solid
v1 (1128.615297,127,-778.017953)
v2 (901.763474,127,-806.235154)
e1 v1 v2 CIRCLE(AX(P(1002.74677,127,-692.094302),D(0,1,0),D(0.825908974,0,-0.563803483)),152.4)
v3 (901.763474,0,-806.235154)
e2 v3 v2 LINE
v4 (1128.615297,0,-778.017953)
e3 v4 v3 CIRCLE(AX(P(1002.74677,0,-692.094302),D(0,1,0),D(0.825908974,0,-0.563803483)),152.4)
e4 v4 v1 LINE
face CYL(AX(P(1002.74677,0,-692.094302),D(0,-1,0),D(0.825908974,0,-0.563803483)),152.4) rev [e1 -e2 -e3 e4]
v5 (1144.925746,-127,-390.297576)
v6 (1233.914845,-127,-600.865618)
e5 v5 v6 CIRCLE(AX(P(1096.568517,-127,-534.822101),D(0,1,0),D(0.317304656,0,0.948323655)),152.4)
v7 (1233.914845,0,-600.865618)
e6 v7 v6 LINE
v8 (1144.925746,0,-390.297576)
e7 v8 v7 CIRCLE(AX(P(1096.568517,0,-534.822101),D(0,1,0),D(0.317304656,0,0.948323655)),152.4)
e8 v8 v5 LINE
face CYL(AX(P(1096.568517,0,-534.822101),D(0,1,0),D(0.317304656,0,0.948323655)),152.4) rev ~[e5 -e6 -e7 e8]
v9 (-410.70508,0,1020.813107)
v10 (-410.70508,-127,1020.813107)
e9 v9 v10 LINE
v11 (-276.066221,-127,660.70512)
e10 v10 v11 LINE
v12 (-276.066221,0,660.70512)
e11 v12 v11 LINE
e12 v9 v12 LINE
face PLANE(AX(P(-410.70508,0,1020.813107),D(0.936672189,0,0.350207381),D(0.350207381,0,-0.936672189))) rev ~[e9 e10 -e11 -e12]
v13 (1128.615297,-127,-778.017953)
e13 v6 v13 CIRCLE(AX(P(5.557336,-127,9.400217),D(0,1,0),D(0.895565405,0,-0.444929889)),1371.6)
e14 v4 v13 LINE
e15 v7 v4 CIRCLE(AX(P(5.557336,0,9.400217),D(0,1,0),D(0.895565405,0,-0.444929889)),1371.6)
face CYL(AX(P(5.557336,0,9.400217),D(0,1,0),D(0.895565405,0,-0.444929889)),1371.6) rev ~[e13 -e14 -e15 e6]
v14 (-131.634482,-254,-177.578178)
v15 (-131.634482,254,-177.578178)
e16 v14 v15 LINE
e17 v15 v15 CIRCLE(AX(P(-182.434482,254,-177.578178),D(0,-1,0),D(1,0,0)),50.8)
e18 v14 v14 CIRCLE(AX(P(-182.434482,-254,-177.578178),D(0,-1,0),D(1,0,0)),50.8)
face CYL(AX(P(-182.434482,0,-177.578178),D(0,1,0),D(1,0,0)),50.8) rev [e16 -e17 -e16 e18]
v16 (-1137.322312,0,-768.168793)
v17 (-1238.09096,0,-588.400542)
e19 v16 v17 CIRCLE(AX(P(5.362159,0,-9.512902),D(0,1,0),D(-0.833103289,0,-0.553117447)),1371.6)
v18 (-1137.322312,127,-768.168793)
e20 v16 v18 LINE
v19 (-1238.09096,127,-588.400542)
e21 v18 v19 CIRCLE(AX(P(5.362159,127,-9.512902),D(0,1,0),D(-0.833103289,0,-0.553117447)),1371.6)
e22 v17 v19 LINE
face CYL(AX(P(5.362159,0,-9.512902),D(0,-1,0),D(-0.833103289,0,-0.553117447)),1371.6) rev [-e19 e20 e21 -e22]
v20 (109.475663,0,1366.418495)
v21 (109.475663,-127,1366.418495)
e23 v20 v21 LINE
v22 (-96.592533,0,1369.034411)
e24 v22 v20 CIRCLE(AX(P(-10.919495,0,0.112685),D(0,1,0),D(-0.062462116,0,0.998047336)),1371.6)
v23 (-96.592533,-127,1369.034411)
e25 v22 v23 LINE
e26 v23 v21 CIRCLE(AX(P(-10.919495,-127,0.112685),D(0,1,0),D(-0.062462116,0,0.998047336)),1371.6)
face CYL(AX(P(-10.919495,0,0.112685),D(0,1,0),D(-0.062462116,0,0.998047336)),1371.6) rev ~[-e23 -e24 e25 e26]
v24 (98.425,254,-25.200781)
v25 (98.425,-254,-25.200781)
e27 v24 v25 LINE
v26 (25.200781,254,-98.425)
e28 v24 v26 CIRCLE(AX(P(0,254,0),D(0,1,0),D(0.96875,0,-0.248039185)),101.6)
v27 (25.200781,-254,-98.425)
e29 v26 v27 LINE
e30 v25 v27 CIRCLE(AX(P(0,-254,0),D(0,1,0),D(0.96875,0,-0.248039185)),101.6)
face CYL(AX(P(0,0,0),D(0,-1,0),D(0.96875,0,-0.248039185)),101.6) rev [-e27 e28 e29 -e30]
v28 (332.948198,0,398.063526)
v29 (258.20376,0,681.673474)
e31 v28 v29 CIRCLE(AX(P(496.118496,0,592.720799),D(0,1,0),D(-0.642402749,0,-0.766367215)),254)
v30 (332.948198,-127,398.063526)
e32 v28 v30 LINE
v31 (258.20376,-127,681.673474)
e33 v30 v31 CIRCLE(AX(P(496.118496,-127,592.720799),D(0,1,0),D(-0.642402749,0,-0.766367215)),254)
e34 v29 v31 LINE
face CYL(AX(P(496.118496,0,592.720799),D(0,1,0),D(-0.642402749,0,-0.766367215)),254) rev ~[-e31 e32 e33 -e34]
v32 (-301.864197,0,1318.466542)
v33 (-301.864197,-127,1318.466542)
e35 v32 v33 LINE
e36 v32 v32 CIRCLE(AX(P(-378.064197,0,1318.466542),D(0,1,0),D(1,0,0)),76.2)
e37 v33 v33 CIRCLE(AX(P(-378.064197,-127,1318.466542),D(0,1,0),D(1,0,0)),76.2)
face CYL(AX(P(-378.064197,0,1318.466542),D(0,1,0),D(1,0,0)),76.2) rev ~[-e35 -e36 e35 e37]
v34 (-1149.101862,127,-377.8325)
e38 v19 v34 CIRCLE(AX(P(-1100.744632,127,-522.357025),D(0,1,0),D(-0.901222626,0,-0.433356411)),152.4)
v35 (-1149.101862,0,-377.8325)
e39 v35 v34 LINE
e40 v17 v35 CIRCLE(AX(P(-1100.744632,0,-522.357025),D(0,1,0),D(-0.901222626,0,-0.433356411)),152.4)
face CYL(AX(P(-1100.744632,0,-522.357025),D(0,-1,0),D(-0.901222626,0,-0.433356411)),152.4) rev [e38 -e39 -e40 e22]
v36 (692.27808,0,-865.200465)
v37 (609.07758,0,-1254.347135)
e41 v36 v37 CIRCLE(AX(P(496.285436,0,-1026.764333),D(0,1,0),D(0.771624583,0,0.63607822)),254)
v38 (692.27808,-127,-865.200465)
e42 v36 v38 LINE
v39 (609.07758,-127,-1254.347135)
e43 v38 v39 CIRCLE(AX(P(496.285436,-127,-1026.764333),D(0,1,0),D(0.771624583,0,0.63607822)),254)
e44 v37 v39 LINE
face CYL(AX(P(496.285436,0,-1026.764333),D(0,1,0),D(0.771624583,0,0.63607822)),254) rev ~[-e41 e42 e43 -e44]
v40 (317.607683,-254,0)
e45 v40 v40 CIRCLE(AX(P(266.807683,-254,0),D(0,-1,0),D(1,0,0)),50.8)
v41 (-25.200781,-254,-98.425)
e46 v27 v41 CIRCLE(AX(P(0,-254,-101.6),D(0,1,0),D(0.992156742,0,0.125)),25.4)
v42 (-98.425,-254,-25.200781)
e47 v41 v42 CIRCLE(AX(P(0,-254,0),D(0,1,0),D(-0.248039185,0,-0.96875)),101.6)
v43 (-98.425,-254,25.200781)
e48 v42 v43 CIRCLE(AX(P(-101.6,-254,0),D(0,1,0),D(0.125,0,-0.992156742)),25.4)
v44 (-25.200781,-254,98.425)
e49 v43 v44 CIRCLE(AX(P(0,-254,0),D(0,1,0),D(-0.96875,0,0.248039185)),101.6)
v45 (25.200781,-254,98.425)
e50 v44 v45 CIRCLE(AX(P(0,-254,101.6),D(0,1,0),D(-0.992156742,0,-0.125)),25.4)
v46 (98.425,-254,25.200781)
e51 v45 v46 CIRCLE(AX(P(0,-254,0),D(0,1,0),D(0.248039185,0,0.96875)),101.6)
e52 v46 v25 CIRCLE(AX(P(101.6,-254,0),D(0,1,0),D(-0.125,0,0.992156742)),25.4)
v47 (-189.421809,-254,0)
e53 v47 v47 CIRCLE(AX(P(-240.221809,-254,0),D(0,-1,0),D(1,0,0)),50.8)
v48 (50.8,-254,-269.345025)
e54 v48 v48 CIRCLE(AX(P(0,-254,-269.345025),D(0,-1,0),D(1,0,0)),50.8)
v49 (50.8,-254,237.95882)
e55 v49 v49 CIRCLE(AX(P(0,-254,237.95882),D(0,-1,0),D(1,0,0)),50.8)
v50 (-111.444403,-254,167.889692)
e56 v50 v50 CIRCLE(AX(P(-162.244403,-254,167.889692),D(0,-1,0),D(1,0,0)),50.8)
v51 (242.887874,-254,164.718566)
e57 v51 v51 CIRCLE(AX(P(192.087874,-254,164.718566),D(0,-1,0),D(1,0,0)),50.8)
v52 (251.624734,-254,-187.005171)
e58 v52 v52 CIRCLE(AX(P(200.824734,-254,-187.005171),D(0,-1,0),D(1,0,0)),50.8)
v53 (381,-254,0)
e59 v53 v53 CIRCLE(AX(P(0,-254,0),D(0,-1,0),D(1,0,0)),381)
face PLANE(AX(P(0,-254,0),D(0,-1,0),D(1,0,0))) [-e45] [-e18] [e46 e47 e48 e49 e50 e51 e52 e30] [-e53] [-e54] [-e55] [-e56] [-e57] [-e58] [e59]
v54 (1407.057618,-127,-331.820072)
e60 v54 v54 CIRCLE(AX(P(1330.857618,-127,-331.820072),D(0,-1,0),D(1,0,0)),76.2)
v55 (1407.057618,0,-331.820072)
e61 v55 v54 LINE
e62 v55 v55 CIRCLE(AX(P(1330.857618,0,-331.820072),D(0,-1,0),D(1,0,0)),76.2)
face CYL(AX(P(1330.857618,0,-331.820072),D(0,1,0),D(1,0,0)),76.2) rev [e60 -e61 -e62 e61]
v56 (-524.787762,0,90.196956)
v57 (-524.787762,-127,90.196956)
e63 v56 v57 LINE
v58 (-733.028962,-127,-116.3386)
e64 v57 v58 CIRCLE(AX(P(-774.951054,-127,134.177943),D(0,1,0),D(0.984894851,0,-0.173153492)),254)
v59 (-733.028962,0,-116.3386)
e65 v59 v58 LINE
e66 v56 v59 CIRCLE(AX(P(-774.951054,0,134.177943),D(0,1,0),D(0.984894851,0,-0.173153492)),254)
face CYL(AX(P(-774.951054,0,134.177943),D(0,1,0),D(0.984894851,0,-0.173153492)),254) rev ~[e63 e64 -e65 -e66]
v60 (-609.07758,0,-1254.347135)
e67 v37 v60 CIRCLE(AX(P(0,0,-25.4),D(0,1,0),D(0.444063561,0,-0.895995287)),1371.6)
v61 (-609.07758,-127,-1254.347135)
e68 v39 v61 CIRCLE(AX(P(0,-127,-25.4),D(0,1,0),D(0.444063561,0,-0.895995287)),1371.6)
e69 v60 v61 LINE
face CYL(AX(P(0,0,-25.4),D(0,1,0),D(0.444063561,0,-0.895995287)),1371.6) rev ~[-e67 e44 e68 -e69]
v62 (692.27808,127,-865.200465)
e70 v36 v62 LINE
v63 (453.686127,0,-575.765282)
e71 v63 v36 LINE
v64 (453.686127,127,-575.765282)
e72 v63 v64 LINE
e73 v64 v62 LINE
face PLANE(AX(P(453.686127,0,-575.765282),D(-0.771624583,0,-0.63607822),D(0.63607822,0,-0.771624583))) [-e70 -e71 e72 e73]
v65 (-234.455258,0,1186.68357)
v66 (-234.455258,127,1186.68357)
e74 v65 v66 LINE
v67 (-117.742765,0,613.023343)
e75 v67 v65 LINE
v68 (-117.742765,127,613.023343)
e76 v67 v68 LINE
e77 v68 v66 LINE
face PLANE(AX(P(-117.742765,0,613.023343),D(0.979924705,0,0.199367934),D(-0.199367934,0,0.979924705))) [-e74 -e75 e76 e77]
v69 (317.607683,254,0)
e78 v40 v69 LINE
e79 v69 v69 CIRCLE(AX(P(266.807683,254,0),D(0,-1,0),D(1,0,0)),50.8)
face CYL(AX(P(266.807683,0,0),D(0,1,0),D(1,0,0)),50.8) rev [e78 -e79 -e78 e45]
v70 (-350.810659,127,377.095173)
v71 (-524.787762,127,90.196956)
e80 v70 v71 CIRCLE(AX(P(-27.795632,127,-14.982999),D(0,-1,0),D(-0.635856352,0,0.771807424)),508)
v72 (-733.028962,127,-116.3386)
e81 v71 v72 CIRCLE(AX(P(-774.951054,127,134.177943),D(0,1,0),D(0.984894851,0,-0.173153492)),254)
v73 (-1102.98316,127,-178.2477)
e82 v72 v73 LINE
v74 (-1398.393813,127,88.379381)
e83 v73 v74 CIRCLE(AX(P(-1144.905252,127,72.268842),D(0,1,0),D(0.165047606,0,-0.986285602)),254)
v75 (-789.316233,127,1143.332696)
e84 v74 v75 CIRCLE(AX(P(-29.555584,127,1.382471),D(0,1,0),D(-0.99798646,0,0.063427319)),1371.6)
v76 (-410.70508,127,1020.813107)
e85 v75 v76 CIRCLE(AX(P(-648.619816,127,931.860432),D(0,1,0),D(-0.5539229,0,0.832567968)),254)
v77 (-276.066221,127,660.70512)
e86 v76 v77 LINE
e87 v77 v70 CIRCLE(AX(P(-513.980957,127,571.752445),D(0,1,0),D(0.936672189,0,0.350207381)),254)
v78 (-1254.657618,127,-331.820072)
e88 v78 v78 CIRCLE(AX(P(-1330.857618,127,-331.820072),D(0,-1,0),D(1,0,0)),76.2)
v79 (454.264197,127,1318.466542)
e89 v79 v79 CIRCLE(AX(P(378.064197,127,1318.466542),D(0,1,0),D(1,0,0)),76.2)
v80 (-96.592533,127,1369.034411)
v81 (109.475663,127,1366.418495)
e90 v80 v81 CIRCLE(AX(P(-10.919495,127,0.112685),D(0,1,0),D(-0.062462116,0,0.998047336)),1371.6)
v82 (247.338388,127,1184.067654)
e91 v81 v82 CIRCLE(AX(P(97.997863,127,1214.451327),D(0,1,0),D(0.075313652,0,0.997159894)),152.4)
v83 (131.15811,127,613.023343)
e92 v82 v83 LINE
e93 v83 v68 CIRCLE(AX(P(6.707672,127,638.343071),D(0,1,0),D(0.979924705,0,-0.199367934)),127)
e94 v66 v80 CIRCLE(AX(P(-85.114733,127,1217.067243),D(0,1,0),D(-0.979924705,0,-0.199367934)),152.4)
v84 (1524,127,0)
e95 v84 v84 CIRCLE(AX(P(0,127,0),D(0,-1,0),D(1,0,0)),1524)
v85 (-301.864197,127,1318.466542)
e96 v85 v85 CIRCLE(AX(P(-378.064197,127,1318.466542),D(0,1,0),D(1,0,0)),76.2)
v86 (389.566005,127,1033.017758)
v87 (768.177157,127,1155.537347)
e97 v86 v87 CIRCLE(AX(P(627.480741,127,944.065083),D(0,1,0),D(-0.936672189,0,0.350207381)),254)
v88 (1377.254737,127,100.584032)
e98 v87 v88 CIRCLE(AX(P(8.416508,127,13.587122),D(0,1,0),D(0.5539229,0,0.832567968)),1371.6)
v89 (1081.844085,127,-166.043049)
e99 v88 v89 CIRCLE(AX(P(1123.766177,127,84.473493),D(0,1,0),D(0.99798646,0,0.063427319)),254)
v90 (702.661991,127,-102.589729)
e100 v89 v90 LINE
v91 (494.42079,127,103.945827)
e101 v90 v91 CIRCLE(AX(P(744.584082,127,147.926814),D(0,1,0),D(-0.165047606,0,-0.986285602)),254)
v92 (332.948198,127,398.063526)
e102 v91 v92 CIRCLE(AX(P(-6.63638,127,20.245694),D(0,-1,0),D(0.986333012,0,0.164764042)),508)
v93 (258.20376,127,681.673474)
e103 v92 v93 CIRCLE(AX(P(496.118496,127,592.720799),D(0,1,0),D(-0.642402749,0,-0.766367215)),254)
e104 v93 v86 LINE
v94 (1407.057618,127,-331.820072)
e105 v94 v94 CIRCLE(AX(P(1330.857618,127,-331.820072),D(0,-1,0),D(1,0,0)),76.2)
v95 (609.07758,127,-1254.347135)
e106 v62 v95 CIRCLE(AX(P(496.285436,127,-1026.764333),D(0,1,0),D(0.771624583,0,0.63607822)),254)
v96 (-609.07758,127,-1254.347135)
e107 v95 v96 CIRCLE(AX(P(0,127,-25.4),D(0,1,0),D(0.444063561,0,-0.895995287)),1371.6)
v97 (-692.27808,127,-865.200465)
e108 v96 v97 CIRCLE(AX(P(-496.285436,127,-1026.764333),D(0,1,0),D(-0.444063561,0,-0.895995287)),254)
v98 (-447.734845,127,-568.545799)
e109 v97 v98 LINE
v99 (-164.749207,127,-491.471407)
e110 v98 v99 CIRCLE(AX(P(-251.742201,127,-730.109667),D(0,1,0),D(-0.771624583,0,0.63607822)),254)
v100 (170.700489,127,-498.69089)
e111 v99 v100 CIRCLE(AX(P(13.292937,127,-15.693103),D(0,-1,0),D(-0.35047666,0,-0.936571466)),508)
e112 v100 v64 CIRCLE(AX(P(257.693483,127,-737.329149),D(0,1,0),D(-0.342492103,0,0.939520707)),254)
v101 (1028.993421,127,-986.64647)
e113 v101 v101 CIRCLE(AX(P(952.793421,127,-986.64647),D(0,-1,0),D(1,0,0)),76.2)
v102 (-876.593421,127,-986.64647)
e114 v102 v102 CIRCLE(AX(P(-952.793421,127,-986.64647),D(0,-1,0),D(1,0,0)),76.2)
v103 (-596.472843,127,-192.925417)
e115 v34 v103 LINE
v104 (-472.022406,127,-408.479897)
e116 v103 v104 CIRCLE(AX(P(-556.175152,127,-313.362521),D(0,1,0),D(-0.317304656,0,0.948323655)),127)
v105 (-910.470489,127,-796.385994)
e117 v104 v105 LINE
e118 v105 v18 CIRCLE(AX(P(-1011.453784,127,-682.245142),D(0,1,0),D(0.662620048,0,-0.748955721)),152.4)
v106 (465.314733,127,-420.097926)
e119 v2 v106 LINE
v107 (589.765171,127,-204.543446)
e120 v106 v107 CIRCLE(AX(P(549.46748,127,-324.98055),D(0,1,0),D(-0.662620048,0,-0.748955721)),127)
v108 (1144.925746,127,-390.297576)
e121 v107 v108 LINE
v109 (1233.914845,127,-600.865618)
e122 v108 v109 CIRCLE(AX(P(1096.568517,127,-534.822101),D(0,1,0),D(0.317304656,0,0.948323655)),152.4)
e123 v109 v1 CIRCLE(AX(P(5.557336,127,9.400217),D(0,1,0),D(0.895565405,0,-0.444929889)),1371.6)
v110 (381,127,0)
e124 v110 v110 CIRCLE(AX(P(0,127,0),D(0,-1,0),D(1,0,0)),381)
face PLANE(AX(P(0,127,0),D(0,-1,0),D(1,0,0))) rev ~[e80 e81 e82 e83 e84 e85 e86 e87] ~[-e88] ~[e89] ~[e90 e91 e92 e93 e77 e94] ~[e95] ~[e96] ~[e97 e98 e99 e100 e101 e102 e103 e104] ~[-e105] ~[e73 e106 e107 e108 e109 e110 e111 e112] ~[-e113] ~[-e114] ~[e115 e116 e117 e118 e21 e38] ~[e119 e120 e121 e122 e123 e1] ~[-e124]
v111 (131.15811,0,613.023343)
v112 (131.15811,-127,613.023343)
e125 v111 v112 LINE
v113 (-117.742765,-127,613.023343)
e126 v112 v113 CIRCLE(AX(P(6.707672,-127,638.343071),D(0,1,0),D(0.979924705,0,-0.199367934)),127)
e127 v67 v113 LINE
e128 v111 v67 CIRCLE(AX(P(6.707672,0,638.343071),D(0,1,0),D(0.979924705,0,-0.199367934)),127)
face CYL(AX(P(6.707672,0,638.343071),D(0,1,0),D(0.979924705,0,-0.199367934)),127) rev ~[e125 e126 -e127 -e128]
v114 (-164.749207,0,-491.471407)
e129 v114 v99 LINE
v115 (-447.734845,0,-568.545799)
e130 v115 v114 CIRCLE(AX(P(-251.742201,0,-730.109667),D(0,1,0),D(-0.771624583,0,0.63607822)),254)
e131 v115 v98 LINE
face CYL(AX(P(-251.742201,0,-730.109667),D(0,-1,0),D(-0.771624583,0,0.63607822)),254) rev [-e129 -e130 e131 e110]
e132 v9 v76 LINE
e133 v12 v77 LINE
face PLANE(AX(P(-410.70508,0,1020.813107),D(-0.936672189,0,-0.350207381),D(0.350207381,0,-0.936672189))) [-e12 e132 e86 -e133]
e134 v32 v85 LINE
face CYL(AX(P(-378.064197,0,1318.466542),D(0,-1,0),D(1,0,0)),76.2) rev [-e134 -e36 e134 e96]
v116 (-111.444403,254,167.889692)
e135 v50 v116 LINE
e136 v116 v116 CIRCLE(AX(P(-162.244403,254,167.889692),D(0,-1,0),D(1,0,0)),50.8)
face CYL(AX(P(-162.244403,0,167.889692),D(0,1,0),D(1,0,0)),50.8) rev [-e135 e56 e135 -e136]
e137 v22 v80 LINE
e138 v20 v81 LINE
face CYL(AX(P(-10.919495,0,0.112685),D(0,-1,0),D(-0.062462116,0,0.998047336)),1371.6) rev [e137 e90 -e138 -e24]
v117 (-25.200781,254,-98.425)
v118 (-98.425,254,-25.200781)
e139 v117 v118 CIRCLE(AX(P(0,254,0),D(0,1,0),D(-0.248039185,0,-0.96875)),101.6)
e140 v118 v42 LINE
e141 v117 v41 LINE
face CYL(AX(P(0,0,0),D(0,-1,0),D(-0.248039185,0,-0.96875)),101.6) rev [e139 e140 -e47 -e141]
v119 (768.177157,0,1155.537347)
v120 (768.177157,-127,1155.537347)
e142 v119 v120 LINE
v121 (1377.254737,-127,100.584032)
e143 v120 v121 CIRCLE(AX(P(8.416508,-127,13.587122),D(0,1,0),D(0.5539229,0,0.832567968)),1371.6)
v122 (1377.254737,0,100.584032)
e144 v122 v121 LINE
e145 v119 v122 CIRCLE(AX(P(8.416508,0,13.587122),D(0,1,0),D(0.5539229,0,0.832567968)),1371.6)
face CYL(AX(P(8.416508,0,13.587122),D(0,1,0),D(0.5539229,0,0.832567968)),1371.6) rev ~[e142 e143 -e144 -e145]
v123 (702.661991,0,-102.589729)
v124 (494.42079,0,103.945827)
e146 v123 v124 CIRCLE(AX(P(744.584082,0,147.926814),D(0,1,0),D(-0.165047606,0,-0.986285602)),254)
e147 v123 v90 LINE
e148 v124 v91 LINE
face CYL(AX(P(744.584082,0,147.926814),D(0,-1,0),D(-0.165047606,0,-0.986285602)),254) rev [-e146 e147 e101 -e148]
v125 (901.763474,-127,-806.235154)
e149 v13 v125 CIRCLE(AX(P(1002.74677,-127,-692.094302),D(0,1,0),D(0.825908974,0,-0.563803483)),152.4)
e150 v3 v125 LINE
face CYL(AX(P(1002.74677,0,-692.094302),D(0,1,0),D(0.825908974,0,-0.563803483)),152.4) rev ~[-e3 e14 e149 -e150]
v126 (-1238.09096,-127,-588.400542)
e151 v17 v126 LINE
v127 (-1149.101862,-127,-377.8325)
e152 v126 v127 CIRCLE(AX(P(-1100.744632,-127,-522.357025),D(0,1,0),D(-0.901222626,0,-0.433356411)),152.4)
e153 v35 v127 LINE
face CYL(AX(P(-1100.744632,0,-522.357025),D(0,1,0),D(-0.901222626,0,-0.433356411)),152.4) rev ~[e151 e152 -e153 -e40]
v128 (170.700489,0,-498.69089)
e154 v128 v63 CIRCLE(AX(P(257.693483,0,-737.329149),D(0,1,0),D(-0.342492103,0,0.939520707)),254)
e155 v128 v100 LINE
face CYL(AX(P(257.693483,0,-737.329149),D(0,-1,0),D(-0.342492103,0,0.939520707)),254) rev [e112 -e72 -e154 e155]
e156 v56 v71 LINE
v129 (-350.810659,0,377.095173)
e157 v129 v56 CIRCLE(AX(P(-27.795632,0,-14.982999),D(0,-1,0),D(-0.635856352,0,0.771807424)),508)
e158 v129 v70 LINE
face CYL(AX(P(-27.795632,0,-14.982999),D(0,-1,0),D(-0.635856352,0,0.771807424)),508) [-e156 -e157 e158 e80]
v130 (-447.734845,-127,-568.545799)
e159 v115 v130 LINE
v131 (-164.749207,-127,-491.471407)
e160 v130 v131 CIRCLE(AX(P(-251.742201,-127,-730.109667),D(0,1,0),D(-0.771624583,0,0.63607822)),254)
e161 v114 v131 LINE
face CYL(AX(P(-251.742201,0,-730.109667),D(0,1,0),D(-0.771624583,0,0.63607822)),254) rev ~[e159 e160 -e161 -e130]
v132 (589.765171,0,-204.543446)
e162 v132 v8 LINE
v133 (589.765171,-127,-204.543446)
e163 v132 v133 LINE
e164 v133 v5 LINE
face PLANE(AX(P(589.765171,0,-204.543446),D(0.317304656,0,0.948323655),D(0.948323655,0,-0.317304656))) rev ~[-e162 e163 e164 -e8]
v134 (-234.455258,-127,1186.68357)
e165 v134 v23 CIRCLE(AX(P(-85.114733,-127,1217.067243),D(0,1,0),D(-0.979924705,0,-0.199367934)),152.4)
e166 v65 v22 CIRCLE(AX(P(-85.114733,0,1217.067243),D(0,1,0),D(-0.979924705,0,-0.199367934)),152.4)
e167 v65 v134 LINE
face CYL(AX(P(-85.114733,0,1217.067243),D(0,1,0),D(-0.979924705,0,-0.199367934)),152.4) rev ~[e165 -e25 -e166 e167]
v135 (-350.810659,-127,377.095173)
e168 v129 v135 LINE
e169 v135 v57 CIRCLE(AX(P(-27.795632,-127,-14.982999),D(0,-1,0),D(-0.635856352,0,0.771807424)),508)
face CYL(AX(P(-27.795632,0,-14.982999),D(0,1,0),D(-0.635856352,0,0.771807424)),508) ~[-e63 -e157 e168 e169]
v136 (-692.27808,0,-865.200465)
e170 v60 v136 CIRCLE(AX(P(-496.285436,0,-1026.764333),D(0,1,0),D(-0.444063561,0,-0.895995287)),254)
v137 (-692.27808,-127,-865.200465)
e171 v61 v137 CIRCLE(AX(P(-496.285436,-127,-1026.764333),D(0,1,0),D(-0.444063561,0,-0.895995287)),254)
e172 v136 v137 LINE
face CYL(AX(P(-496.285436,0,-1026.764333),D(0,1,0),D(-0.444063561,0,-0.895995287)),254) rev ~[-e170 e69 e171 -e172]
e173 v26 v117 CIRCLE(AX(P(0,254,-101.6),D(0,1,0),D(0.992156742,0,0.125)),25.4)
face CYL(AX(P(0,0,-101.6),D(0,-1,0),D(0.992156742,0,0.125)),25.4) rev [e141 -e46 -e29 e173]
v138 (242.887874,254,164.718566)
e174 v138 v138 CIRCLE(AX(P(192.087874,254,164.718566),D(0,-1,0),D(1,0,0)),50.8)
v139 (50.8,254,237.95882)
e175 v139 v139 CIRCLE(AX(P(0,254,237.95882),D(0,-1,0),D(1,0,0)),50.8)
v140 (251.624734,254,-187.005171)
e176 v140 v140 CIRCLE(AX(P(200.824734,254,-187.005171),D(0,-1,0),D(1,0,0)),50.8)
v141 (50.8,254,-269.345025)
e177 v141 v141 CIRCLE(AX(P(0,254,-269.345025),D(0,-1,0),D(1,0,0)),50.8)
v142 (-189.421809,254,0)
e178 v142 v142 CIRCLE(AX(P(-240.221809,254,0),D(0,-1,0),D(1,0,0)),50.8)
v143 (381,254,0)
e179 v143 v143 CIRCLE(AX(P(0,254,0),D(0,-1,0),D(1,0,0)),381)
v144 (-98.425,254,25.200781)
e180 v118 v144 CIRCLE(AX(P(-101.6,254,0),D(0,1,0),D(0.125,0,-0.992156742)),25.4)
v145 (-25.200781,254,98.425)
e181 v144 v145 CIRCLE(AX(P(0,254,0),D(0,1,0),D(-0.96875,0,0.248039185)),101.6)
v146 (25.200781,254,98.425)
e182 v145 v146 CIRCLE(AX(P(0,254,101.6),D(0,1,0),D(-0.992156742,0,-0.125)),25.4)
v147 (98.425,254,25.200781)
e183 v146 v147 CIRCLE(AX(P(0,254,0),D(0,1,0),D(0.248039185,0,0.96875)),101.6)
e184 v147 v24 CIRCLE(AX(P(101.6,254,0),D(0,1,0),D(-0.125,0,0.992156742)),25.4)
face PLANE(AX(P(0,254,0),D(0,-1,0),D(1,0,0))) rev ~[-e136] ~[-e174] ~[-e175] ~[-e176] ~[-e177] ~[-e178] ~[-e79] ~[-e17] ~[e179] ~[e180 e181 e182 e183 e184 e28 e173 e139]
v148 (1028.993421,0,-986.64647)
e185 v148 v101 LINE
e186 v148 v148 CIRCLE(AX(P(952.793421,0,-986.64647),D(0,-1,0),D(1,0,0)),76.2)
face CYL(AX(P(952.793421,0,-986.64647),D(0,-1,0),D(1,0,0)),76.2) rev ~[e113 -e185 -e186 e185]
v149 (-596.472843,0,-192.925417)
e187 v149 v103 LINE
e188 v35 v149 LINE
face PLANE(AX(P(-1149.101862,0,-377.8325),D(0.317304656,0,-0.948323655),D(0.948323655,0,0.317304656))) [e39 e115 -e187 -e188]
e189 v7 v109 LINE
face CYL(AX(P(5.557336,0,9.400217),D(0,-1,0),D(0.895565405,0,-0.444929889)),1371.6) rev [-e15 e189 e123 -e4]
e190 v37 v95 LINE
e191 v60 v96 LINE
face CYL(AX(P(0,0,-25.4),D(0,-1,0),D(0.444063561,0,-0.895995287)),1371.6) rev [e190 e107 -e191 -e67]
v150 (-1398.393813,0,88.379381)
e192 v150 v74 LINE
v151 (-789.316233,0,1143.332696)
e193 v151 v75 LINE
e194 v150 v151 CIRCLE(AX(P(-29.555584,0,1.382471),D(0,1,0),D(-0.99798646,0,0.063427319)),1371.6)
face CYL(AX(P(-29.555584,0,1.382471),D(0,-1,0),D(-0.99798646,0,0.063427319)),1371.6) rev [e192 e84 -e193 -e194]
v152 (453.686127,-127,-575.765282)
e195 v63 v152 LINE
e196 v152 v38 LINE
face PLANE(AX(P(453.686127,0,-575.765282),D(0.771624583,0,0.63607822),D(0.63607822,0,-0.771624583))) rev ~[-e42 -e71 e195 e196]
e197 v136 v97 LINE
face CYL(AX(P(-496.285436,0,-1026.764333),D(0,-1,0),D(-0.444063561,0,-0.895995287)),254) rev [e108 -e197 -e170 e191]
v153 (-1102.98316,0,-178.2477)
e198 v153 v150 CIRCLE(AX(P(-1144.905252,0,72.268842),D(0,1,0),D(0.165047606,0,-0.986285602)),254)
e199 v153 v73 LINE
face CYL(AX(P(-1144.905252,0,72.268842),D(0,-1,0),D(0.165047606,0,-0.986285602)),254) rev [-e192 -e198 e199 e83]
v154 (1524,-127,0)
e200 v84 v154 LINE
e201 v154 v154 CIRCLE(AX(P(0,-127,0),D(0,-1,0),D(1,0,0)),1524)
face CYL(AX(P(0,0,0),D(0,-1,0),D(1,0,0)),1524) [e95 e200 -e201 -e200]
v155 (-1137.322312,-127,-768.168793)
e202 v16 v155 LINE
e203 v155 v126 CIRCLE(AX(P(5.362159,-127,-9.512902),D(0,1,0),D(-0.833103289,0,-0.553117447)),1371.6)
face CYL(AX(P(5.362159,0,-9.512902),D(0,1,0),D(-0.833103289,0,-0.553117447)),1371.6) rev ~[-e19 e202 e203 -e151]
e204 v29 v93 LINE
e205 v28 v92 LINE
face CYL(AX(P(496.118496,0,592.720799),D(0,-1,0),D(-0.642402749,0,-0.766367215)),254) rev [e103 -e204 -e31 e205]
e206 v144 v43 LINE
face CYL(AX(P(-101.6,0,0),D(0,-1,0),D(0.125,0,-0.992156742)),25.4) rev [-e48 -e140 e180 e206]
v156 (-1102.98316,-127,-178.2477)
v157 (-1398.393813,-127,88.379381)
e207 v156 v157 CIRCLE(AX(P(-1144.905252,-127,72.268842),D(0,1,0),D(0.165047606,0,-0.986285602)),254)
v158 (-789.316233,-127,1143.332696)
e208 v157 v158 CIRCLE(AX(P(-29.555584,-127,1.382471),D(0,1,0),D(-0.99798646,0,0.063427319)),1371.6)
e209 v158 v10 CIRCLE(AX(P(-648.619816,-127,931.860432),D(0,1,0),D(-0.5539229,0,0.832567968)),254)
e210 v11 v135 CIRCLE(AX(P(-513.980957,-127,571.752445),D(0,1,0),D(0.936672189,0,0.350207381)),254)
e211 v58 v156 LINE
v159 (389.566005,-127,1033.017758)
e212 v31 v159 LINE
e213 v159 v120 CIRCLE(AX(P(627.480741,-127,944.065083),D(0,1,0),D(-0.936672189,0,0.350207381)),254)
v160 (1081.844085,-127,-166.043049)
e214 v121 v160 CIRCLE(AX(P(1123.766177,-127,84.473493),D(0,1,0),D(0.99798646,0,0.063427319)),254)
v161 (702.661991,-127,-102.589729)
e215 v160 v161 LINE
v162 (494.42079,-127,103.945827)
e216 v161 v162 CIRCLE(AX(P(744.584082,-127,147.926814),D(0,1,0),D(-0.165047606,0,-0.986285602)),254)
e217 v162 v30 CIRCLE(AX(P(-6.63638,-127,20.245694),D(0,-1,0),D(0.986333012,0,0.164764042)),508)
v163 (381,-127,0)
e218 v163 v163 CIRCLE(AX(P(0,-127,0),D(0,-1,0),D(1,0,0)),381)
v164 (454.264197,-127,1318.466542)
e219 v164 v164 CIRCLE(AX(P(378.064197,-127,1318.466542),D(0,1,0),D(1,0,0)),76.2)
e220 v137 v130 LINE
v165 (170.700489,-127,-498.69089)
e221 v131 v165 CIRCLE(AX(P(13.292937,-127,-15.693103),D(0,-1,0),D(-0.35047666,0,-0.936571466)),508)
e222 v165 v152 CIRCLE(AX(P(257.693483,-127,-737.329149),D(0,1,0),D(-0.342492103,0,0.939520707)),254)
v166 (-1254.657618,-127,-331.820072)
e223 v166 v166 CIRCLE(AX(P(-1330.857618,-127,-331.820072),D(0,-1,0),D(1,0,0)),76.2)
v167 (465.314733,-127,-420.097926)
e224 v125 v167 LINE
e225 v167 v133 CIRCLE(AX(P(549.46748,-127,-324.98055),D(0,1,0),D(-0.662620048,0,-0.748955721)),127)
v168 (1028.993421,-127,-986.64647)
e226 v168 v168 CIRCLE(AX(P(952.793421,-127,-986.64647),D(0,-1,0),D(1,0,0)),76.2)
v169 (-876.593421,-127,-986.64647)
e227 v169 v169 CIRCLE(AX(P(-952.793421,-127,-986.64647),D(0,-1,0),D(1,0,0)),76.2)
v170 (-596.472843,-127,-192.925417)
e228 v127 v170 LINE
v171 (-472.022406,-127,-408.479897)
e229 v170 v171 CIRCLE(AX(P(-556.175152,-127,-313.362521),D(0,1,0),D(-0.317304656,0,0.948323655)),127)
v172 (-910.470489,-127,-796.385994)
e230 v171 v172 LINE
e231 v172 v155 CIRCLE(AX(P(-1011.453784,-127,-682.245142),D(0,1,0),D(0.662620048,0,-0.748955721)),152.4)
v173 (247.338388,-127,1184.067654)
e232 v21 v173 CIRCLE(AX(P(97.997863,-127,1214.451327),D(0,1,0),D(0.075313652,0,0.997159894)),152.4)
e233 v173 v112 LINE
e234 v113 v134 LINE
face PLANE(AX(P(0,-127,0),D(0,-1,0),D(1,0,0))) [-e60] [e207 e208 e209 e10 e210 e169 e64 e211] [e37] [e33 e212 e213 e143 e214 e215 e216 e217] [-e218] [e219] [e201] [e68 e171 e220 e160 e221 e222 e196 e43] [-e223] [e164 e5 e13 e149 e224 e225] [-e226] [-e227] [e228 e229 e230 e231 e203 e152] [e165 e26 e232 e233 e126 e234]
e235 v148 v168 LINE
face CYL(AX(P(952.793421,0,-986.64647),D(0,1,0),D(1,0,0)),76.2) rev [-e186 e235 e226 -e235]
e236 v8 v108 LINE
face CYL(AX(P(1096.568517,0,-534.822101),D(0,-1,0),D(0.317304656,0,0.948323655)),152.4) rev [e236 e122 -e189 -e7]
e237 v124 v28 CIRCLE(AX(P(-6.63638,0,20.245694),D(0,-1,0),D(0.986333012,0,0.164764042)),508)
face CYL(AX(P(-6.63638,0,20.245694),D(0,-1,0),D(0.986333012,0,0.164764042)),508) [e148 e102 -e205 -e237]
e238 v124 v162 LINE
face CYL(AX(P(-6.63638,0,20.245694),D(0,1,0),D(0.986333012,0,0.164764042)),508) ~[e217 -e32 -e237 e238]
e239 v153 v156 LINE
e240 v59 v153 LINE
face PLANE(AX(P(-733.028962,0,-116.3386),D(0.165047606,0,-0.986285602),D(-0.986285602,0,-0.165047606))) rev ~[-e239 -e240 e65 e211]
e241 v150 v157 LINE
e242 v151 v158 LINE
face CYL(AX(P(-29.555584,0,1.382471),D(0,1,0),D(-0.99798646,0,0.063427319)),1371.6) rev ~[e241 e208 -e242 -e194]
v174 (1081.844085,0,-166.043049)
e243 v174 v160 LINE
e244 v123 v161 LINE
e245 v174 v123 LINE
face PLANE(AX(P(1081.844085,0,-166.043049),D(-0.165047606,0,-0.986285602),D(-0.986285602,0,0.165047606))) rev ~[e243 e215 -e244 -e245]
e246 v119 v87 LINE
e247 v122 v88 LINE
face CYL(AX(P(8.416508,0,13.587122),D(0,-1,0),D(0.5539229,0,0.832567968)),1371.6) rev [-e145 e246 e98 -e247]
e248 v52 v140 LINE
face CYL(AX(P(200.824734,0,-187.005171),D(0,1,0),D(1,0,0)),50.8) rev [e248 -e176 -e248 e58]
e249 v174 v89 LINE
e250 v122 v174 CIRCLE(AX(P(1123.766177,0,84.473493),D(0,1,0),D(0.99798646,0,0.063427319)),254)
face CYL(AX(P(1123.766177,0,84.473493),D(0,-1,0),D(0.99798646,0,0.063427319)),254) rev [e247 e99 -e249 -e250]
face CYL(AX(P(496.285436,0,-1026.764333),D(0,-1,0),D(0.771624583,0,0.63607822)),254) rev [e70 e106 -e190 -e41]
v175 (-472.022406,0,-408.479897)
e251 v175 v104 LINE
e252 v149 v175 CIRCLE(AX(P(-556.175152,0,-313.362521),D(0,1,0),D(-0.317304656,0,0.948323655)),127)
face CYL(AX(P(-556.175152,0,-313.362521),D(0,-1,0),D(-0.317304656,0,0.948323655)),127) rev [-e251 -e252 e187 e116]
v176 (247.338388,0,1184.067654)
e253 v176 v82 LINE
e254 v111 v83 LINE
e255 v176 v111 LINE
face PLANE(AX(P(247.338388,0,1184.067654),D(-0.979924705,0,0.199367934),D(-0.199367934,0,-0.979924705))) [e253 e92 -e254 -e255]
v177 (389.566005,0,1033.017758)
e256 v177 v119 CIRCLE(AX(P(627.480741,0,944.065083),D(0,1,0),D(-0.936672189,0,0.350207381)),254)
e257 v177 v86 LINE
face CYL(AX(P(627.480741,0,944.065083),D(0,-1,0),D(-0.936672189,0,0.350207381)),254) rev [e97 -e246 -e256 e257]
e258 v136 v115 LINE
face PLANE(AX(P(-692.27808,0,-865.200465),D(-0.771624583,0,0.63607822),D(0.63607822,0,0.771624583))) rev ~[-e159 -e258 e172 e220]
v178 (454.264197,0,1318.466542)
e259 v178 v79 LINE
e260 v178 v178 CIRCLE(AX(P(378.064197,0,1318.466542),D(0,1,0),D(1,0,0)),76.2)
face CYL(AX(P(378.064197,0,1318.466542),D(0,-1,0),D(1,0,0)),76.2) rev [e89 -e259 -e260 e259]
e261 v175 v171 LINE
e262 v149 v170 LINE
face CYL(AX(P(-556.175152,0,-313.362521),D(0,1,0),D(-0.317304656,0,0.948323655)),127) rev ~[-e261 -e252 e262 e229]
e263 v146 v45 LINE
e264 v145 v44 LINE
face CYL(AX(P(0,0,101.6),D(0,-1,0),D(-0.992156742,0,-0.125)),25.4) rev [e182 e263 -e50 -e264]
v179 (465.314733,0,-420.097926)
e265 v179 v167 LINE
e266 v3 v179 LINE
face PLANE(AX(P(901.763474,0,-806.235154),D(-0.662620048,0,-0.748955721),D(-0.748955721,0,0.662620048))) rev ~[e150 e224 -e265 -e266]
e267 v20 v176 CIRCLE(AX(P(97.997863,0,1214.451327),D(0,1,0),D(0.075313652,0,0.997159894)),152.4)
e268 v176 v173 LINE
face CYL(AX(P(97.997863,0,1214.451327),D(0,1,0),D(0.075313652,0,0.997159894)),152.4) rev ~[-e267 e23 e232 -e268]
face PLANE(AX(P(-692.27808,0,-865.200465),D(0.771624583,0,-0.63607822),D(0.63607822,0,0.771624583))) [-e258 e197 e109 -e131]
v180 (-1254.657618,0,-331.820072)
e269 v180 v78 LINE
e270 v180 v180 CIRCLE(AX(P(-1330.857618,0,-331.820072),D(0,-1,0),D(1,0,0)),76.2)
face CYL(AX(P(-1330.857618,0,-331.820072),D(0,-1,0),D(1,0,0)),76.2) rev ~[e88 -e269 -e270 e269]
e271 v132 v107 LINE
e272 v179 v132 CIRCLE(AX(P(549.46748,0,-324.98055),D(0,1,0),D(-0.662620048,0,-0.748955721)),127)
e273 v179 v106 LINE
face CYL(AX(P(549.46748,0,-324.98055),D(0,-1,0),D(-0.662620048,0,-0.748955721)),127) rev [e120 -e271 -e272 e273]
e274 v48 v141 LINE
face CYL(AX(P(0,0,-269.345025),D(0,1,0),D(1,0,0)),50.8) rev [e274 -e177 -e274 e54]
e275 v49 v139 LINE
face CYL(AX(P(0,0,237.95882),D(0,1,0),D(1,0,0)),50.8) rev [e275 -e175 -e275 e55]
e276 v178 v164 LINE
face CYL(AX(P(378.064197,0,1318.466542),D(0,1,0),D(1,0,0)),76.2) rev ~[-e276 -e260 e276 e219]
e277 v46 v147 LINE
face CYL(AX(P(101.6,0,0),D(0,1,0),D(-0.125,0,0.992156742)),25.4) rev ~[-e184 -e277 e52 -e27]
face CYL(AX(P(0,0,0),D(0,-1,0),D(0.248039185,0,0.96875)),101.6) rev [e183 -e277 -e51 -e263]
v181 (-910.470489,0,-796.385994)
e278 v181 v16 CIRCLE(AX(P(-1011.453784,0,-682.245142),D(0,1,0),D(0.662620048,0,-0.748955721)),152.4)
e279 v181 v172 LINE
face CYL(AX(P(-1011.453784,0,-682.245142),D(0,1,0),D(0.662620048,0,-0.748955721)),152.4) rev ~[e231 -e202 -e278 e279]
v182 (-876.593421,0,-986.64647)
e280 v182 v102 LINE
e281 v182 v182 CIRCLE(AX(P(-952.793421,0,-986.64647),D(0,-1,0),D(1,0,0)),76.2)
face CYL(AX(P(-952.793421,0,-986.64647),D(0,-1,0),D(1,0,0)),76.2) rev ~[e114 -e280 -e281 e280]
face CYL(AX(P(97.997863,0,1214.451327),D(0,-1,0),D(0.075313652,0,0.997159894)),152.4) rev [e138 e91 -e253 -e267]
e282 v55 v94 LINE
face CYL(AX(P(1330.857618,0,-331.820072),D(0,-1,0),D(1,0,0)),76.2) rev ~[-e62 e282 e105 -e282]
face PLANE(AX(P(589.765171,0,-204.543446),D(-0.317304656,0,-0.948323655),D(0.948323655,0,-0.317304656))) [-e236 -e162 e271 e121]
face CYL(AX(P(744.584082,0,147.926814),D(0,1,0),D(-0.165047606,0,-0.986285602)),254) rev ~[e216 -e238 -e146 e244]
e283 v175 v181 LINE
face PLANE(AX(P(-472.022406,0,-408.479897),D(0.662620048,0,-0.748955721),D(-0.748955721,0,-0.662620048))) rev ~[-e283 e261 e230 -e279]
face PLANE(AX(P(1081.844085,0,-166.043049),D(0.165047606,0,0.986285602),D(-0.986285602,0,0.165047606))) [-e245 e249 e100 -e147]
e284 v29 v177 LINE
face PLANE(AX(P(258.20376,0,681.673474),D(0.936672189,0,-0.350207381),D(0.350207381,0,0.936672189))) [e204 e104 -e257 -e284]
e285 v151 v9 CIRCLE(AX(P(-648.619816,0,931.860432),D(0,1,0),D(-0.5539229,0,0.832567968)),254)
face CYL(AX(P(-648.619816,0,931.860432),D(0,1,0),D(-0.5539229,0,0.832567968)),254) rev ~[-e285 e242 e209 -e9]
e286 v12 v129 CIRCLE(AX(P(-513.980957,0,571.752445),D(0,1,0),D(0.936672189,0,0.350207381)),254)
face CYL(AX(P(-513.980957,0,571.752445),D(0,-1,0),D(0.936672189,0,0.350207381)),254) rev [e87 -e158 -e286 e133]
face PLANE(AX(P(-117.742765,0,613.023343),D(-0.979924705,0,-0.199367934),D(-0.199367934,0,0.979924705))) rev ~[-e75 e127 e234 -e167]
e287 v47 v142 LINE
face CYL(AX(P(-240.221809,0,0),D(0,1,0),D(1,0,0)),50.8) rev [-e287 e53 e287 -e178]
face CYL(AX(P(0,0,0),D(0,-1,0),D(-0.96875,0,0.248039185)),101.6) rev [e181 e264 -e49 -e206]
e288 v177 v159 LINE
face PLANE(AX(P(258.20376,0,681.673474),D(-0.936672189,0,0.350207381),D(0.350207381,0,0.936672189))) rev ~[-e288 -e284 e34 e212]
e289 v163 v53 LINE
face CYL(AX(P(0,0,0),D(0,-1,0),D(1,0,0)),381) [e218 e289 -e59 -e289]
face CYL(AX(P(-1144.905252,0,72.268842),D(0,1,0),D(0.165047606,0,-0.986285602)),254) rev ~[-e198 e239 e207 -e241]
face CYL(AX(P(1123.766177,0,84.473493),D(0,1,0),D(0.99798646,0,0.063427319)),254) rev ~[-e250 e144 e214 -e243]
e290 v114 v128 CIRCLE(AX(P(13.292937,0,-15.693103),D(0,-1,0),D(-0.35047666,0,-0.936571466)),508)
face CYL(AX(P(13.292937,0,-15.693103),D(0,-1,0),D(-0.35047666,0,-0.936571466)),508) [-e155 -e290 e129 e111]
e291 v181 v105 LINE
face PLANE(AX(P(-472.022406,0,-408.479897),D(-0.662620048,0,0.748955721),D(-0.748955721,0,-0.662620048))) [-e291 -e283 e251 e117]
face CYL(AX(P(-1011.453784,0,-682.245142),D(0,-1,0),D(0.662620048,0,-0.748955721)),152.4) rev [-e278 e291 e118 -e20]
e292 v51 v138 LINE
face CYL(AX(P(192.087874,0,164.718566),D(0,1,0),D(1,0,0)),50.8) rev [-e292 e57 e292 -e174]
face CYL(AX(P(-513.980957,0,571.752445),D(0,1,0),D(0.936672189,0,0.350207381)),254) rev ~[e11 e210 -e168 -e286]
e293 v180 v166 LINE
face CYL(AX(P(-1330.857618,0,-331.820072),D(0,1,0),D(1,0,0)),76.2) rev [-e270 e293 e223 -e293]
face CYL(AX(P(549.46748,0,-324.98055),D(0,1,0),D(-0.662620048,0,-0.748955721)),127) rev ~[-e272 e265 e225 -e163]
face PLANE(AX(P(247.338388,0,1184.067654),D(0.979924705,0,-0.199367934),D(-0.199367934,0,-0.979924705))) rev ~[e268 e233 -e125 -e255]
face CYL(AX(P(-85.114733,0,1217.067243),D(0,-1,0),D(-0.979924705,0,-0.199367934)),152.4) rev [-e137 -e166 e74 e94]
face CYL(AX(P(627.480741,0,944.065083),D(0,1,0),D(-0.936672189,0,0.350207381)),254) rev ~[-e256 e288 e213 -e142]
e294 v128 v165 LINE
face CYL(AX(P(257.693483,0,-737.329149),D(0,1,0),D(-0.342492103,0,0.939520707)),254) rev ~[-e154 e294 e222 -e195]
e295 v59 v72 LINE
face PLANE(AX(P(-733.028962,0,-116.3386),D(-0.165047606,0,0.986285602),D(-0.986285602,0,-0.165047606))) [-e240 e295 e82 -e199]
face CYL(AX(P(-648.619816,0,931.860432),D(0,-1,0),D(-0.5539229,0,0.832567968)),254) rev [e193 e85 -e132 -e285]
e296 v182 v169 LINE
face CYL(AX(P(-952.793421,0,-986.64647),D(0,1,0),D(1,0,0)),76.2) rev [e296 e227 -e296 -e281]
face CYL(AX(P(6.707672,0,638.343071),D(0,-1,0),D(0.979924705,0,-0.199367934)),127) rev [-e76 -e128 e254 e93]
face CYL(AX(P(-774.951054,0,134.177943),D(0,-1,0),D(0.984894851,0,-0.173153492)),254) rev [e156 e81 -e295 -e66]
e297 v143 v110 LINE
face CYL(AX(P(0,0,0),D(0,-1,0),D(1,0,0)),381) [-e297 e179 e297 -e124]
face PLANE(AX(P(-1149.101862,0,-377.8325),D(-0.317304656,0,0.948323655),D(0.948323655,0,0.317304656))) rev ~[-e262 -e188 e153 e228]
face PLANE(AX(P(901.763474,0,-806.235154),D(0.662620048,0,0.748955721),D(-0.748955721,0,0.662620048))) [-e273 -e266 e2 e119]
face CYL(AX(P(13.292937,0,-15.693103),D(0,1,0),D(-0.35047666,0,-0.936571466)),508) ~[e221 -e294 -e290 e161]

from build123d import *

# Parameters (mm, degrees)
F0_R     = 1524
F0_R_2   = 76.2
F0_R_3   = 381
F1_DEPTH = 127
F0_R_4   = 50.8
F2_DEPTH = 254


with BuildPart() as f1:
    # F0 (on Front) → F1 (new body, symmetric)
    with BuildSketch(Plane.XZ):
        Circle(F0_R)
        with Locations((-952.7934209216, -986.6464701445)):
            Circle(F0_R_2, mode=Mode.SUBTRACT)
        with BuildLine():
            Line((-1149.1018619001, -377.8324998256), (-596.4728429993, -192.9254166804))
            ThreePointArc((-596.4728429993, -192.9254166804), (-446.1899253552, -249.8625208916), (-472.0224055125, -408.4798974318))
            Line((-472.0224055125, -408.4798974318), (-910.4704887044, -796.3859938278))
            ThreePointArc((-910.4704887044, -796.3859938278), (-1030.265251423, -833.4796905965), (-1137.3223116298, -768.1687927721))
            ThreePointArc((-1137.3223116298, -768.1687927721), (-1191.0877169545, -680.1799238955), (-1238.0909604248, -588.4005419017))
            ThreePointArc((-1238.0909604248, -588.4005419017), (-1241.1233269813, -463.0309591958), (-1149.1018619001, -377.8324998256))
        make_face(mode=Mode.SUBTRACT)
        with Locations((-1330.8576181602, -331.8200720045)):
            Circle(F0_R_2, mode=Mode.SUBTRACT)
        with BuildLine():
            ThreePointArc((609.0775800349, -1254.3471353557), (0, -1397), (-609.0775800349, -1254.3471353557))
            ThreePointArc((-609.0775800349, -1254.3471353557), (-744.6718165916, -1079.8699417253), (-692.2780797644, -865.2004645615))
            Line((-692.2780797644, -865.2004645615), (-447.7348448545, -568.5457989211))
            ThreePointArc((-447.7348448545, -568.5457989211), (-318.4905818818, -485.0369152117), (-164.7492065708, -491.4714072045))
            ThreePointArc((-164.7492065708, -491.4714072045), (2.3623913923, -523.5754935991), (170.7004887793, -498.6908898221))
            ThreePointArc((170.7004887793, -498.6908898221), (324.4418640903, -492.2563978293), (453.686127063, -575.7652815387))
            Line((453.686127063, -575.7652815387), (692.2780797645, -865.2004645615))
            ThreePointArc((692.2780797644, -865.2004645615), (744.6718165916, -1079.8699417253), (609.0775800349, -1254.3471353557))
        make_face(mode=Mode.SUBTRACT)
        with Locations((952.7934209216, -986.6464701445)):
            Circle(F0_R_2, mode=Mode.SUBTRACT)
        with BuildLine():
            Line((901.7634741744, -806.2351540287), (465.3147333806, -420.0979263647))
            ThreePointArc((465.3147333806, -420.0979263647), (439.4822532233, -261.4805498245), (589.7651708674, -204.5434456134))
            Line((589.7651708674, -204.5434456134), (1144.9257462252, -390.2975757001))
            ThreePointArc((1144.9257462252, -390.2975757001), (1236.9472113064, -475.4960350704), (1233.9148447499, -600.8656177762))
            ThreePointArc((1233.9148447499, -600.8656177762), (1184.5969517149, -691.4222590705), (1128.6152970998, -778.0179529729))
            ThreePointArc((1128.6152970998, -778.0179529729), (1021.5582368929, -843.3288507973), (901.7634741744, -806.2351540287))
        make_face(mode=Mode.SUBTRACT)
        with Locations((1330.8576181602, -331.8200720045)):
            Circle(F0_R_2, mode=Mode.SUBTRACT)
        with BuildLine():
            ThreePointArc((-276.0662211555, 660.7051201838), (-268.3675379079, 507.0218633014), (-350.8106590896, 377.0951726656))
            ThreePointArc((-350.8106590896, 377.0951726656), (-462.1694124542, 248.4243267599), (-524.7877621136, 90.1969561095))
            ThreePointArc((-524.7877621136, 90.1969561095), (-596.086016243, -46.164226519), (-733.0289624633, -116.3385996921))
            Line((-733.0289624633, -116.3385996921), (-1102.9831600607, -178.2477003587))
            ThreePointArc((-1102.9831600607, -178.2477003587), (-1315.0892491154, -116.2872688683), (-1398.3938129019, 88.3793814118))
            ThreePointArc((-1398.3938129019, 88.3793814118), (-1217.396027589, 687.1824709197), (-789.316232867, 1143.3326957833))
            ThreePointArc((-789.316232867, 1143.3326957833), (-570.4174325237, 1173.522152433), (-410.7050802963, 1020.8131067596))
            Line((-410.7050802963, 1020.8131067596), (-276.0662211555, 660.7051201838))
        make_face(mode=Mode.SUBTRACT)
        with BuildLine():
            ThreePointArc((-357.0606307253, 1245.2184009185), (-438.9202231042, 1364.3248469132), (-301.8641972386, 1318.466542149))
            ThreePointArc((-301.8641972386, 1318.466542149), (-317.208171373, 1272.6082373848), (-357.0606307253, 1245.2184009185))
        make_face(mode=Mode.SUBTRACT)
        Circle(F0_R_3, mode=Mode.SUBTRACT)
        with BuildLine():
            ThreePointArc((702.6619905651, -102.5897285248), (565.7190443448, -32.4153553517), (494.4207902155, 103.9458272768))
            ThreePointArc((494.4207902155, 103.9458272768), (438.667945617, 264.7207595772), (332.9481978895, 398.0635264505))
            ThreePointArc((332.9481978895, 398.0635264505), (250.5050767078, 527.9902170863), (258.2037599554, 681.6734739687))
            Line((258.2037599554, 681.6734739687), (389.5660048514, 1033.0177576581))
            ThreePointArc((389.5660048514, 1033.0177576581), (549.2783570789, 1185.7268033316), (768.1771574221, 1155.5373466818))
            ThreePointArc((768.1771574221, 1155.5373466818), (1196.2569521442, 699.3871218182), (1377.254737457, 100.5840323103))
            ThreePointArc((1377.254737457, 100.5840323103), (1293.9501736705, -104.0826179698), (1081.8440846159, -166.0430494602))
            Line((1081.8440846159, -166.0430494602), (702.6619905651, -102.5897285248))
        make_face(mode=Mode.SUBTRACT)
        with BuildLine():
            ThreePointArc((-234.4552575208, 1186.6835695279), (-206.6819598835, 1308.9757256669), (-96.5925331201, 1369.0344105483))
            ThreePointArc((-96.5925331201, 1369.0344105483), (6.4907652396, 1371.602182966), (109.475663325, 1366.4184948746))
            ThreePointArc((109.475663325, 1366.4184948746), (219.5650900884, 1306.3598099932), (247.3383877257, 1184.0676538542))
            Line((247.3383877257, 1184.0676538542), (131.1581096188, 613.0233430451))
            ThreePointArc((131.1581096188, 613.0233430451), (6.7076721319, 511.3430707161), (-117.7427653549, 613.0233430451))
            Line((-117.7427653549, 613.0233430451), (-234.4552575208, 1186.6835695279))
        make_face(mode=Mode.SUBTRACT)
        with BuildLine():
            ThreePointArc((357.0606307253, 1245.2184009185), (332.2058924744, 1379.3225680146), (454.2641972386, 1318.466542149))
            ThreePointArc((454.2641972386, 1318.466542149), (423.9225020028, 1257.6105162834), (357.0606307253, 1245.2184009185))
        make_face(mode=Mode.SUBTRACT)
    extrude(amount=F1_DEPTH, both=True)

    # F0 (on Front) → F2 (join, symmetric)
    with BuildSketch(Plane.XZ):
        Circle(F0_R_3)
        with Locations((-182.4344820172, -177.5781776749)):
            Circle(F0_R_4, mode=Mode.SUBTRACT)
        with Locations((0, -269.3450250997)):
            Circle(F0_R_4, mode=Mode.SUBTRACT)
        with Locations((200.8247340771, -187.0051714751)):
            Circle(F0_R_4, mode=Mode.SUBTRACT)
        with Locations((-240.2218094835, 0)):
            Circle(F0_R_4, mode=Mode.SUBTRACT)
        with Locations((-162.2444029219, 167.8896918852)):
            Circle(F0_R_4, mode=Mode.SUBTRACT)
        with BuildLine():
            ThreePointArc((-98.425, 25.2007812379), (-71.8420489686, 71.8420489686), (-25.2007812379, 98.425))
            ThreePointArc((-25.2007812379, 98.425), (0, 127), (25.2007812379, 98.425))
            ThreePointArc((25.2007812379, 98.425), (71.8420489686, 71.8420489686), (98.425, 25.2007812379))
            ThreePointArc((98.425, 25.2007812379), (127, 0), (98.425, -25.2007812379))
            ThreePointArc((98.425, -25.2007812379), (71.8420489686, -71.8420489686), (25.2007812379, -98.425))
            ThreePointArc((25.2007812379, -98.425), (0, -127), (-25.2007812379, -98.425))
            ThreePointArc((-25.2007812379, -98.425), (-71.8420489686, -71.8420489686), (-98.425, -25.2007812379))
            ThreePointArc((-98.425, -25.2007812379), (-127, 0), (-98.425, 25.2007812379))
        make_face(mode=Mode.SUBTRACT)
        with Locations((266.8076828881, 0)):
            Circle(F0_R_4, mode=Mode.SUBTRACT)
        with Locations((192.0878742949, 164.718566435)):
            Circle(F0_R_4, mode=Mode.SUBTRACT)
        with Locations((0, 237.9588200812)):
            Circle(F0_R_4, mode=Mode.SUBTRACT)
    extrude(amount=F2_DEPTH, both=True)


solid = f1.part
